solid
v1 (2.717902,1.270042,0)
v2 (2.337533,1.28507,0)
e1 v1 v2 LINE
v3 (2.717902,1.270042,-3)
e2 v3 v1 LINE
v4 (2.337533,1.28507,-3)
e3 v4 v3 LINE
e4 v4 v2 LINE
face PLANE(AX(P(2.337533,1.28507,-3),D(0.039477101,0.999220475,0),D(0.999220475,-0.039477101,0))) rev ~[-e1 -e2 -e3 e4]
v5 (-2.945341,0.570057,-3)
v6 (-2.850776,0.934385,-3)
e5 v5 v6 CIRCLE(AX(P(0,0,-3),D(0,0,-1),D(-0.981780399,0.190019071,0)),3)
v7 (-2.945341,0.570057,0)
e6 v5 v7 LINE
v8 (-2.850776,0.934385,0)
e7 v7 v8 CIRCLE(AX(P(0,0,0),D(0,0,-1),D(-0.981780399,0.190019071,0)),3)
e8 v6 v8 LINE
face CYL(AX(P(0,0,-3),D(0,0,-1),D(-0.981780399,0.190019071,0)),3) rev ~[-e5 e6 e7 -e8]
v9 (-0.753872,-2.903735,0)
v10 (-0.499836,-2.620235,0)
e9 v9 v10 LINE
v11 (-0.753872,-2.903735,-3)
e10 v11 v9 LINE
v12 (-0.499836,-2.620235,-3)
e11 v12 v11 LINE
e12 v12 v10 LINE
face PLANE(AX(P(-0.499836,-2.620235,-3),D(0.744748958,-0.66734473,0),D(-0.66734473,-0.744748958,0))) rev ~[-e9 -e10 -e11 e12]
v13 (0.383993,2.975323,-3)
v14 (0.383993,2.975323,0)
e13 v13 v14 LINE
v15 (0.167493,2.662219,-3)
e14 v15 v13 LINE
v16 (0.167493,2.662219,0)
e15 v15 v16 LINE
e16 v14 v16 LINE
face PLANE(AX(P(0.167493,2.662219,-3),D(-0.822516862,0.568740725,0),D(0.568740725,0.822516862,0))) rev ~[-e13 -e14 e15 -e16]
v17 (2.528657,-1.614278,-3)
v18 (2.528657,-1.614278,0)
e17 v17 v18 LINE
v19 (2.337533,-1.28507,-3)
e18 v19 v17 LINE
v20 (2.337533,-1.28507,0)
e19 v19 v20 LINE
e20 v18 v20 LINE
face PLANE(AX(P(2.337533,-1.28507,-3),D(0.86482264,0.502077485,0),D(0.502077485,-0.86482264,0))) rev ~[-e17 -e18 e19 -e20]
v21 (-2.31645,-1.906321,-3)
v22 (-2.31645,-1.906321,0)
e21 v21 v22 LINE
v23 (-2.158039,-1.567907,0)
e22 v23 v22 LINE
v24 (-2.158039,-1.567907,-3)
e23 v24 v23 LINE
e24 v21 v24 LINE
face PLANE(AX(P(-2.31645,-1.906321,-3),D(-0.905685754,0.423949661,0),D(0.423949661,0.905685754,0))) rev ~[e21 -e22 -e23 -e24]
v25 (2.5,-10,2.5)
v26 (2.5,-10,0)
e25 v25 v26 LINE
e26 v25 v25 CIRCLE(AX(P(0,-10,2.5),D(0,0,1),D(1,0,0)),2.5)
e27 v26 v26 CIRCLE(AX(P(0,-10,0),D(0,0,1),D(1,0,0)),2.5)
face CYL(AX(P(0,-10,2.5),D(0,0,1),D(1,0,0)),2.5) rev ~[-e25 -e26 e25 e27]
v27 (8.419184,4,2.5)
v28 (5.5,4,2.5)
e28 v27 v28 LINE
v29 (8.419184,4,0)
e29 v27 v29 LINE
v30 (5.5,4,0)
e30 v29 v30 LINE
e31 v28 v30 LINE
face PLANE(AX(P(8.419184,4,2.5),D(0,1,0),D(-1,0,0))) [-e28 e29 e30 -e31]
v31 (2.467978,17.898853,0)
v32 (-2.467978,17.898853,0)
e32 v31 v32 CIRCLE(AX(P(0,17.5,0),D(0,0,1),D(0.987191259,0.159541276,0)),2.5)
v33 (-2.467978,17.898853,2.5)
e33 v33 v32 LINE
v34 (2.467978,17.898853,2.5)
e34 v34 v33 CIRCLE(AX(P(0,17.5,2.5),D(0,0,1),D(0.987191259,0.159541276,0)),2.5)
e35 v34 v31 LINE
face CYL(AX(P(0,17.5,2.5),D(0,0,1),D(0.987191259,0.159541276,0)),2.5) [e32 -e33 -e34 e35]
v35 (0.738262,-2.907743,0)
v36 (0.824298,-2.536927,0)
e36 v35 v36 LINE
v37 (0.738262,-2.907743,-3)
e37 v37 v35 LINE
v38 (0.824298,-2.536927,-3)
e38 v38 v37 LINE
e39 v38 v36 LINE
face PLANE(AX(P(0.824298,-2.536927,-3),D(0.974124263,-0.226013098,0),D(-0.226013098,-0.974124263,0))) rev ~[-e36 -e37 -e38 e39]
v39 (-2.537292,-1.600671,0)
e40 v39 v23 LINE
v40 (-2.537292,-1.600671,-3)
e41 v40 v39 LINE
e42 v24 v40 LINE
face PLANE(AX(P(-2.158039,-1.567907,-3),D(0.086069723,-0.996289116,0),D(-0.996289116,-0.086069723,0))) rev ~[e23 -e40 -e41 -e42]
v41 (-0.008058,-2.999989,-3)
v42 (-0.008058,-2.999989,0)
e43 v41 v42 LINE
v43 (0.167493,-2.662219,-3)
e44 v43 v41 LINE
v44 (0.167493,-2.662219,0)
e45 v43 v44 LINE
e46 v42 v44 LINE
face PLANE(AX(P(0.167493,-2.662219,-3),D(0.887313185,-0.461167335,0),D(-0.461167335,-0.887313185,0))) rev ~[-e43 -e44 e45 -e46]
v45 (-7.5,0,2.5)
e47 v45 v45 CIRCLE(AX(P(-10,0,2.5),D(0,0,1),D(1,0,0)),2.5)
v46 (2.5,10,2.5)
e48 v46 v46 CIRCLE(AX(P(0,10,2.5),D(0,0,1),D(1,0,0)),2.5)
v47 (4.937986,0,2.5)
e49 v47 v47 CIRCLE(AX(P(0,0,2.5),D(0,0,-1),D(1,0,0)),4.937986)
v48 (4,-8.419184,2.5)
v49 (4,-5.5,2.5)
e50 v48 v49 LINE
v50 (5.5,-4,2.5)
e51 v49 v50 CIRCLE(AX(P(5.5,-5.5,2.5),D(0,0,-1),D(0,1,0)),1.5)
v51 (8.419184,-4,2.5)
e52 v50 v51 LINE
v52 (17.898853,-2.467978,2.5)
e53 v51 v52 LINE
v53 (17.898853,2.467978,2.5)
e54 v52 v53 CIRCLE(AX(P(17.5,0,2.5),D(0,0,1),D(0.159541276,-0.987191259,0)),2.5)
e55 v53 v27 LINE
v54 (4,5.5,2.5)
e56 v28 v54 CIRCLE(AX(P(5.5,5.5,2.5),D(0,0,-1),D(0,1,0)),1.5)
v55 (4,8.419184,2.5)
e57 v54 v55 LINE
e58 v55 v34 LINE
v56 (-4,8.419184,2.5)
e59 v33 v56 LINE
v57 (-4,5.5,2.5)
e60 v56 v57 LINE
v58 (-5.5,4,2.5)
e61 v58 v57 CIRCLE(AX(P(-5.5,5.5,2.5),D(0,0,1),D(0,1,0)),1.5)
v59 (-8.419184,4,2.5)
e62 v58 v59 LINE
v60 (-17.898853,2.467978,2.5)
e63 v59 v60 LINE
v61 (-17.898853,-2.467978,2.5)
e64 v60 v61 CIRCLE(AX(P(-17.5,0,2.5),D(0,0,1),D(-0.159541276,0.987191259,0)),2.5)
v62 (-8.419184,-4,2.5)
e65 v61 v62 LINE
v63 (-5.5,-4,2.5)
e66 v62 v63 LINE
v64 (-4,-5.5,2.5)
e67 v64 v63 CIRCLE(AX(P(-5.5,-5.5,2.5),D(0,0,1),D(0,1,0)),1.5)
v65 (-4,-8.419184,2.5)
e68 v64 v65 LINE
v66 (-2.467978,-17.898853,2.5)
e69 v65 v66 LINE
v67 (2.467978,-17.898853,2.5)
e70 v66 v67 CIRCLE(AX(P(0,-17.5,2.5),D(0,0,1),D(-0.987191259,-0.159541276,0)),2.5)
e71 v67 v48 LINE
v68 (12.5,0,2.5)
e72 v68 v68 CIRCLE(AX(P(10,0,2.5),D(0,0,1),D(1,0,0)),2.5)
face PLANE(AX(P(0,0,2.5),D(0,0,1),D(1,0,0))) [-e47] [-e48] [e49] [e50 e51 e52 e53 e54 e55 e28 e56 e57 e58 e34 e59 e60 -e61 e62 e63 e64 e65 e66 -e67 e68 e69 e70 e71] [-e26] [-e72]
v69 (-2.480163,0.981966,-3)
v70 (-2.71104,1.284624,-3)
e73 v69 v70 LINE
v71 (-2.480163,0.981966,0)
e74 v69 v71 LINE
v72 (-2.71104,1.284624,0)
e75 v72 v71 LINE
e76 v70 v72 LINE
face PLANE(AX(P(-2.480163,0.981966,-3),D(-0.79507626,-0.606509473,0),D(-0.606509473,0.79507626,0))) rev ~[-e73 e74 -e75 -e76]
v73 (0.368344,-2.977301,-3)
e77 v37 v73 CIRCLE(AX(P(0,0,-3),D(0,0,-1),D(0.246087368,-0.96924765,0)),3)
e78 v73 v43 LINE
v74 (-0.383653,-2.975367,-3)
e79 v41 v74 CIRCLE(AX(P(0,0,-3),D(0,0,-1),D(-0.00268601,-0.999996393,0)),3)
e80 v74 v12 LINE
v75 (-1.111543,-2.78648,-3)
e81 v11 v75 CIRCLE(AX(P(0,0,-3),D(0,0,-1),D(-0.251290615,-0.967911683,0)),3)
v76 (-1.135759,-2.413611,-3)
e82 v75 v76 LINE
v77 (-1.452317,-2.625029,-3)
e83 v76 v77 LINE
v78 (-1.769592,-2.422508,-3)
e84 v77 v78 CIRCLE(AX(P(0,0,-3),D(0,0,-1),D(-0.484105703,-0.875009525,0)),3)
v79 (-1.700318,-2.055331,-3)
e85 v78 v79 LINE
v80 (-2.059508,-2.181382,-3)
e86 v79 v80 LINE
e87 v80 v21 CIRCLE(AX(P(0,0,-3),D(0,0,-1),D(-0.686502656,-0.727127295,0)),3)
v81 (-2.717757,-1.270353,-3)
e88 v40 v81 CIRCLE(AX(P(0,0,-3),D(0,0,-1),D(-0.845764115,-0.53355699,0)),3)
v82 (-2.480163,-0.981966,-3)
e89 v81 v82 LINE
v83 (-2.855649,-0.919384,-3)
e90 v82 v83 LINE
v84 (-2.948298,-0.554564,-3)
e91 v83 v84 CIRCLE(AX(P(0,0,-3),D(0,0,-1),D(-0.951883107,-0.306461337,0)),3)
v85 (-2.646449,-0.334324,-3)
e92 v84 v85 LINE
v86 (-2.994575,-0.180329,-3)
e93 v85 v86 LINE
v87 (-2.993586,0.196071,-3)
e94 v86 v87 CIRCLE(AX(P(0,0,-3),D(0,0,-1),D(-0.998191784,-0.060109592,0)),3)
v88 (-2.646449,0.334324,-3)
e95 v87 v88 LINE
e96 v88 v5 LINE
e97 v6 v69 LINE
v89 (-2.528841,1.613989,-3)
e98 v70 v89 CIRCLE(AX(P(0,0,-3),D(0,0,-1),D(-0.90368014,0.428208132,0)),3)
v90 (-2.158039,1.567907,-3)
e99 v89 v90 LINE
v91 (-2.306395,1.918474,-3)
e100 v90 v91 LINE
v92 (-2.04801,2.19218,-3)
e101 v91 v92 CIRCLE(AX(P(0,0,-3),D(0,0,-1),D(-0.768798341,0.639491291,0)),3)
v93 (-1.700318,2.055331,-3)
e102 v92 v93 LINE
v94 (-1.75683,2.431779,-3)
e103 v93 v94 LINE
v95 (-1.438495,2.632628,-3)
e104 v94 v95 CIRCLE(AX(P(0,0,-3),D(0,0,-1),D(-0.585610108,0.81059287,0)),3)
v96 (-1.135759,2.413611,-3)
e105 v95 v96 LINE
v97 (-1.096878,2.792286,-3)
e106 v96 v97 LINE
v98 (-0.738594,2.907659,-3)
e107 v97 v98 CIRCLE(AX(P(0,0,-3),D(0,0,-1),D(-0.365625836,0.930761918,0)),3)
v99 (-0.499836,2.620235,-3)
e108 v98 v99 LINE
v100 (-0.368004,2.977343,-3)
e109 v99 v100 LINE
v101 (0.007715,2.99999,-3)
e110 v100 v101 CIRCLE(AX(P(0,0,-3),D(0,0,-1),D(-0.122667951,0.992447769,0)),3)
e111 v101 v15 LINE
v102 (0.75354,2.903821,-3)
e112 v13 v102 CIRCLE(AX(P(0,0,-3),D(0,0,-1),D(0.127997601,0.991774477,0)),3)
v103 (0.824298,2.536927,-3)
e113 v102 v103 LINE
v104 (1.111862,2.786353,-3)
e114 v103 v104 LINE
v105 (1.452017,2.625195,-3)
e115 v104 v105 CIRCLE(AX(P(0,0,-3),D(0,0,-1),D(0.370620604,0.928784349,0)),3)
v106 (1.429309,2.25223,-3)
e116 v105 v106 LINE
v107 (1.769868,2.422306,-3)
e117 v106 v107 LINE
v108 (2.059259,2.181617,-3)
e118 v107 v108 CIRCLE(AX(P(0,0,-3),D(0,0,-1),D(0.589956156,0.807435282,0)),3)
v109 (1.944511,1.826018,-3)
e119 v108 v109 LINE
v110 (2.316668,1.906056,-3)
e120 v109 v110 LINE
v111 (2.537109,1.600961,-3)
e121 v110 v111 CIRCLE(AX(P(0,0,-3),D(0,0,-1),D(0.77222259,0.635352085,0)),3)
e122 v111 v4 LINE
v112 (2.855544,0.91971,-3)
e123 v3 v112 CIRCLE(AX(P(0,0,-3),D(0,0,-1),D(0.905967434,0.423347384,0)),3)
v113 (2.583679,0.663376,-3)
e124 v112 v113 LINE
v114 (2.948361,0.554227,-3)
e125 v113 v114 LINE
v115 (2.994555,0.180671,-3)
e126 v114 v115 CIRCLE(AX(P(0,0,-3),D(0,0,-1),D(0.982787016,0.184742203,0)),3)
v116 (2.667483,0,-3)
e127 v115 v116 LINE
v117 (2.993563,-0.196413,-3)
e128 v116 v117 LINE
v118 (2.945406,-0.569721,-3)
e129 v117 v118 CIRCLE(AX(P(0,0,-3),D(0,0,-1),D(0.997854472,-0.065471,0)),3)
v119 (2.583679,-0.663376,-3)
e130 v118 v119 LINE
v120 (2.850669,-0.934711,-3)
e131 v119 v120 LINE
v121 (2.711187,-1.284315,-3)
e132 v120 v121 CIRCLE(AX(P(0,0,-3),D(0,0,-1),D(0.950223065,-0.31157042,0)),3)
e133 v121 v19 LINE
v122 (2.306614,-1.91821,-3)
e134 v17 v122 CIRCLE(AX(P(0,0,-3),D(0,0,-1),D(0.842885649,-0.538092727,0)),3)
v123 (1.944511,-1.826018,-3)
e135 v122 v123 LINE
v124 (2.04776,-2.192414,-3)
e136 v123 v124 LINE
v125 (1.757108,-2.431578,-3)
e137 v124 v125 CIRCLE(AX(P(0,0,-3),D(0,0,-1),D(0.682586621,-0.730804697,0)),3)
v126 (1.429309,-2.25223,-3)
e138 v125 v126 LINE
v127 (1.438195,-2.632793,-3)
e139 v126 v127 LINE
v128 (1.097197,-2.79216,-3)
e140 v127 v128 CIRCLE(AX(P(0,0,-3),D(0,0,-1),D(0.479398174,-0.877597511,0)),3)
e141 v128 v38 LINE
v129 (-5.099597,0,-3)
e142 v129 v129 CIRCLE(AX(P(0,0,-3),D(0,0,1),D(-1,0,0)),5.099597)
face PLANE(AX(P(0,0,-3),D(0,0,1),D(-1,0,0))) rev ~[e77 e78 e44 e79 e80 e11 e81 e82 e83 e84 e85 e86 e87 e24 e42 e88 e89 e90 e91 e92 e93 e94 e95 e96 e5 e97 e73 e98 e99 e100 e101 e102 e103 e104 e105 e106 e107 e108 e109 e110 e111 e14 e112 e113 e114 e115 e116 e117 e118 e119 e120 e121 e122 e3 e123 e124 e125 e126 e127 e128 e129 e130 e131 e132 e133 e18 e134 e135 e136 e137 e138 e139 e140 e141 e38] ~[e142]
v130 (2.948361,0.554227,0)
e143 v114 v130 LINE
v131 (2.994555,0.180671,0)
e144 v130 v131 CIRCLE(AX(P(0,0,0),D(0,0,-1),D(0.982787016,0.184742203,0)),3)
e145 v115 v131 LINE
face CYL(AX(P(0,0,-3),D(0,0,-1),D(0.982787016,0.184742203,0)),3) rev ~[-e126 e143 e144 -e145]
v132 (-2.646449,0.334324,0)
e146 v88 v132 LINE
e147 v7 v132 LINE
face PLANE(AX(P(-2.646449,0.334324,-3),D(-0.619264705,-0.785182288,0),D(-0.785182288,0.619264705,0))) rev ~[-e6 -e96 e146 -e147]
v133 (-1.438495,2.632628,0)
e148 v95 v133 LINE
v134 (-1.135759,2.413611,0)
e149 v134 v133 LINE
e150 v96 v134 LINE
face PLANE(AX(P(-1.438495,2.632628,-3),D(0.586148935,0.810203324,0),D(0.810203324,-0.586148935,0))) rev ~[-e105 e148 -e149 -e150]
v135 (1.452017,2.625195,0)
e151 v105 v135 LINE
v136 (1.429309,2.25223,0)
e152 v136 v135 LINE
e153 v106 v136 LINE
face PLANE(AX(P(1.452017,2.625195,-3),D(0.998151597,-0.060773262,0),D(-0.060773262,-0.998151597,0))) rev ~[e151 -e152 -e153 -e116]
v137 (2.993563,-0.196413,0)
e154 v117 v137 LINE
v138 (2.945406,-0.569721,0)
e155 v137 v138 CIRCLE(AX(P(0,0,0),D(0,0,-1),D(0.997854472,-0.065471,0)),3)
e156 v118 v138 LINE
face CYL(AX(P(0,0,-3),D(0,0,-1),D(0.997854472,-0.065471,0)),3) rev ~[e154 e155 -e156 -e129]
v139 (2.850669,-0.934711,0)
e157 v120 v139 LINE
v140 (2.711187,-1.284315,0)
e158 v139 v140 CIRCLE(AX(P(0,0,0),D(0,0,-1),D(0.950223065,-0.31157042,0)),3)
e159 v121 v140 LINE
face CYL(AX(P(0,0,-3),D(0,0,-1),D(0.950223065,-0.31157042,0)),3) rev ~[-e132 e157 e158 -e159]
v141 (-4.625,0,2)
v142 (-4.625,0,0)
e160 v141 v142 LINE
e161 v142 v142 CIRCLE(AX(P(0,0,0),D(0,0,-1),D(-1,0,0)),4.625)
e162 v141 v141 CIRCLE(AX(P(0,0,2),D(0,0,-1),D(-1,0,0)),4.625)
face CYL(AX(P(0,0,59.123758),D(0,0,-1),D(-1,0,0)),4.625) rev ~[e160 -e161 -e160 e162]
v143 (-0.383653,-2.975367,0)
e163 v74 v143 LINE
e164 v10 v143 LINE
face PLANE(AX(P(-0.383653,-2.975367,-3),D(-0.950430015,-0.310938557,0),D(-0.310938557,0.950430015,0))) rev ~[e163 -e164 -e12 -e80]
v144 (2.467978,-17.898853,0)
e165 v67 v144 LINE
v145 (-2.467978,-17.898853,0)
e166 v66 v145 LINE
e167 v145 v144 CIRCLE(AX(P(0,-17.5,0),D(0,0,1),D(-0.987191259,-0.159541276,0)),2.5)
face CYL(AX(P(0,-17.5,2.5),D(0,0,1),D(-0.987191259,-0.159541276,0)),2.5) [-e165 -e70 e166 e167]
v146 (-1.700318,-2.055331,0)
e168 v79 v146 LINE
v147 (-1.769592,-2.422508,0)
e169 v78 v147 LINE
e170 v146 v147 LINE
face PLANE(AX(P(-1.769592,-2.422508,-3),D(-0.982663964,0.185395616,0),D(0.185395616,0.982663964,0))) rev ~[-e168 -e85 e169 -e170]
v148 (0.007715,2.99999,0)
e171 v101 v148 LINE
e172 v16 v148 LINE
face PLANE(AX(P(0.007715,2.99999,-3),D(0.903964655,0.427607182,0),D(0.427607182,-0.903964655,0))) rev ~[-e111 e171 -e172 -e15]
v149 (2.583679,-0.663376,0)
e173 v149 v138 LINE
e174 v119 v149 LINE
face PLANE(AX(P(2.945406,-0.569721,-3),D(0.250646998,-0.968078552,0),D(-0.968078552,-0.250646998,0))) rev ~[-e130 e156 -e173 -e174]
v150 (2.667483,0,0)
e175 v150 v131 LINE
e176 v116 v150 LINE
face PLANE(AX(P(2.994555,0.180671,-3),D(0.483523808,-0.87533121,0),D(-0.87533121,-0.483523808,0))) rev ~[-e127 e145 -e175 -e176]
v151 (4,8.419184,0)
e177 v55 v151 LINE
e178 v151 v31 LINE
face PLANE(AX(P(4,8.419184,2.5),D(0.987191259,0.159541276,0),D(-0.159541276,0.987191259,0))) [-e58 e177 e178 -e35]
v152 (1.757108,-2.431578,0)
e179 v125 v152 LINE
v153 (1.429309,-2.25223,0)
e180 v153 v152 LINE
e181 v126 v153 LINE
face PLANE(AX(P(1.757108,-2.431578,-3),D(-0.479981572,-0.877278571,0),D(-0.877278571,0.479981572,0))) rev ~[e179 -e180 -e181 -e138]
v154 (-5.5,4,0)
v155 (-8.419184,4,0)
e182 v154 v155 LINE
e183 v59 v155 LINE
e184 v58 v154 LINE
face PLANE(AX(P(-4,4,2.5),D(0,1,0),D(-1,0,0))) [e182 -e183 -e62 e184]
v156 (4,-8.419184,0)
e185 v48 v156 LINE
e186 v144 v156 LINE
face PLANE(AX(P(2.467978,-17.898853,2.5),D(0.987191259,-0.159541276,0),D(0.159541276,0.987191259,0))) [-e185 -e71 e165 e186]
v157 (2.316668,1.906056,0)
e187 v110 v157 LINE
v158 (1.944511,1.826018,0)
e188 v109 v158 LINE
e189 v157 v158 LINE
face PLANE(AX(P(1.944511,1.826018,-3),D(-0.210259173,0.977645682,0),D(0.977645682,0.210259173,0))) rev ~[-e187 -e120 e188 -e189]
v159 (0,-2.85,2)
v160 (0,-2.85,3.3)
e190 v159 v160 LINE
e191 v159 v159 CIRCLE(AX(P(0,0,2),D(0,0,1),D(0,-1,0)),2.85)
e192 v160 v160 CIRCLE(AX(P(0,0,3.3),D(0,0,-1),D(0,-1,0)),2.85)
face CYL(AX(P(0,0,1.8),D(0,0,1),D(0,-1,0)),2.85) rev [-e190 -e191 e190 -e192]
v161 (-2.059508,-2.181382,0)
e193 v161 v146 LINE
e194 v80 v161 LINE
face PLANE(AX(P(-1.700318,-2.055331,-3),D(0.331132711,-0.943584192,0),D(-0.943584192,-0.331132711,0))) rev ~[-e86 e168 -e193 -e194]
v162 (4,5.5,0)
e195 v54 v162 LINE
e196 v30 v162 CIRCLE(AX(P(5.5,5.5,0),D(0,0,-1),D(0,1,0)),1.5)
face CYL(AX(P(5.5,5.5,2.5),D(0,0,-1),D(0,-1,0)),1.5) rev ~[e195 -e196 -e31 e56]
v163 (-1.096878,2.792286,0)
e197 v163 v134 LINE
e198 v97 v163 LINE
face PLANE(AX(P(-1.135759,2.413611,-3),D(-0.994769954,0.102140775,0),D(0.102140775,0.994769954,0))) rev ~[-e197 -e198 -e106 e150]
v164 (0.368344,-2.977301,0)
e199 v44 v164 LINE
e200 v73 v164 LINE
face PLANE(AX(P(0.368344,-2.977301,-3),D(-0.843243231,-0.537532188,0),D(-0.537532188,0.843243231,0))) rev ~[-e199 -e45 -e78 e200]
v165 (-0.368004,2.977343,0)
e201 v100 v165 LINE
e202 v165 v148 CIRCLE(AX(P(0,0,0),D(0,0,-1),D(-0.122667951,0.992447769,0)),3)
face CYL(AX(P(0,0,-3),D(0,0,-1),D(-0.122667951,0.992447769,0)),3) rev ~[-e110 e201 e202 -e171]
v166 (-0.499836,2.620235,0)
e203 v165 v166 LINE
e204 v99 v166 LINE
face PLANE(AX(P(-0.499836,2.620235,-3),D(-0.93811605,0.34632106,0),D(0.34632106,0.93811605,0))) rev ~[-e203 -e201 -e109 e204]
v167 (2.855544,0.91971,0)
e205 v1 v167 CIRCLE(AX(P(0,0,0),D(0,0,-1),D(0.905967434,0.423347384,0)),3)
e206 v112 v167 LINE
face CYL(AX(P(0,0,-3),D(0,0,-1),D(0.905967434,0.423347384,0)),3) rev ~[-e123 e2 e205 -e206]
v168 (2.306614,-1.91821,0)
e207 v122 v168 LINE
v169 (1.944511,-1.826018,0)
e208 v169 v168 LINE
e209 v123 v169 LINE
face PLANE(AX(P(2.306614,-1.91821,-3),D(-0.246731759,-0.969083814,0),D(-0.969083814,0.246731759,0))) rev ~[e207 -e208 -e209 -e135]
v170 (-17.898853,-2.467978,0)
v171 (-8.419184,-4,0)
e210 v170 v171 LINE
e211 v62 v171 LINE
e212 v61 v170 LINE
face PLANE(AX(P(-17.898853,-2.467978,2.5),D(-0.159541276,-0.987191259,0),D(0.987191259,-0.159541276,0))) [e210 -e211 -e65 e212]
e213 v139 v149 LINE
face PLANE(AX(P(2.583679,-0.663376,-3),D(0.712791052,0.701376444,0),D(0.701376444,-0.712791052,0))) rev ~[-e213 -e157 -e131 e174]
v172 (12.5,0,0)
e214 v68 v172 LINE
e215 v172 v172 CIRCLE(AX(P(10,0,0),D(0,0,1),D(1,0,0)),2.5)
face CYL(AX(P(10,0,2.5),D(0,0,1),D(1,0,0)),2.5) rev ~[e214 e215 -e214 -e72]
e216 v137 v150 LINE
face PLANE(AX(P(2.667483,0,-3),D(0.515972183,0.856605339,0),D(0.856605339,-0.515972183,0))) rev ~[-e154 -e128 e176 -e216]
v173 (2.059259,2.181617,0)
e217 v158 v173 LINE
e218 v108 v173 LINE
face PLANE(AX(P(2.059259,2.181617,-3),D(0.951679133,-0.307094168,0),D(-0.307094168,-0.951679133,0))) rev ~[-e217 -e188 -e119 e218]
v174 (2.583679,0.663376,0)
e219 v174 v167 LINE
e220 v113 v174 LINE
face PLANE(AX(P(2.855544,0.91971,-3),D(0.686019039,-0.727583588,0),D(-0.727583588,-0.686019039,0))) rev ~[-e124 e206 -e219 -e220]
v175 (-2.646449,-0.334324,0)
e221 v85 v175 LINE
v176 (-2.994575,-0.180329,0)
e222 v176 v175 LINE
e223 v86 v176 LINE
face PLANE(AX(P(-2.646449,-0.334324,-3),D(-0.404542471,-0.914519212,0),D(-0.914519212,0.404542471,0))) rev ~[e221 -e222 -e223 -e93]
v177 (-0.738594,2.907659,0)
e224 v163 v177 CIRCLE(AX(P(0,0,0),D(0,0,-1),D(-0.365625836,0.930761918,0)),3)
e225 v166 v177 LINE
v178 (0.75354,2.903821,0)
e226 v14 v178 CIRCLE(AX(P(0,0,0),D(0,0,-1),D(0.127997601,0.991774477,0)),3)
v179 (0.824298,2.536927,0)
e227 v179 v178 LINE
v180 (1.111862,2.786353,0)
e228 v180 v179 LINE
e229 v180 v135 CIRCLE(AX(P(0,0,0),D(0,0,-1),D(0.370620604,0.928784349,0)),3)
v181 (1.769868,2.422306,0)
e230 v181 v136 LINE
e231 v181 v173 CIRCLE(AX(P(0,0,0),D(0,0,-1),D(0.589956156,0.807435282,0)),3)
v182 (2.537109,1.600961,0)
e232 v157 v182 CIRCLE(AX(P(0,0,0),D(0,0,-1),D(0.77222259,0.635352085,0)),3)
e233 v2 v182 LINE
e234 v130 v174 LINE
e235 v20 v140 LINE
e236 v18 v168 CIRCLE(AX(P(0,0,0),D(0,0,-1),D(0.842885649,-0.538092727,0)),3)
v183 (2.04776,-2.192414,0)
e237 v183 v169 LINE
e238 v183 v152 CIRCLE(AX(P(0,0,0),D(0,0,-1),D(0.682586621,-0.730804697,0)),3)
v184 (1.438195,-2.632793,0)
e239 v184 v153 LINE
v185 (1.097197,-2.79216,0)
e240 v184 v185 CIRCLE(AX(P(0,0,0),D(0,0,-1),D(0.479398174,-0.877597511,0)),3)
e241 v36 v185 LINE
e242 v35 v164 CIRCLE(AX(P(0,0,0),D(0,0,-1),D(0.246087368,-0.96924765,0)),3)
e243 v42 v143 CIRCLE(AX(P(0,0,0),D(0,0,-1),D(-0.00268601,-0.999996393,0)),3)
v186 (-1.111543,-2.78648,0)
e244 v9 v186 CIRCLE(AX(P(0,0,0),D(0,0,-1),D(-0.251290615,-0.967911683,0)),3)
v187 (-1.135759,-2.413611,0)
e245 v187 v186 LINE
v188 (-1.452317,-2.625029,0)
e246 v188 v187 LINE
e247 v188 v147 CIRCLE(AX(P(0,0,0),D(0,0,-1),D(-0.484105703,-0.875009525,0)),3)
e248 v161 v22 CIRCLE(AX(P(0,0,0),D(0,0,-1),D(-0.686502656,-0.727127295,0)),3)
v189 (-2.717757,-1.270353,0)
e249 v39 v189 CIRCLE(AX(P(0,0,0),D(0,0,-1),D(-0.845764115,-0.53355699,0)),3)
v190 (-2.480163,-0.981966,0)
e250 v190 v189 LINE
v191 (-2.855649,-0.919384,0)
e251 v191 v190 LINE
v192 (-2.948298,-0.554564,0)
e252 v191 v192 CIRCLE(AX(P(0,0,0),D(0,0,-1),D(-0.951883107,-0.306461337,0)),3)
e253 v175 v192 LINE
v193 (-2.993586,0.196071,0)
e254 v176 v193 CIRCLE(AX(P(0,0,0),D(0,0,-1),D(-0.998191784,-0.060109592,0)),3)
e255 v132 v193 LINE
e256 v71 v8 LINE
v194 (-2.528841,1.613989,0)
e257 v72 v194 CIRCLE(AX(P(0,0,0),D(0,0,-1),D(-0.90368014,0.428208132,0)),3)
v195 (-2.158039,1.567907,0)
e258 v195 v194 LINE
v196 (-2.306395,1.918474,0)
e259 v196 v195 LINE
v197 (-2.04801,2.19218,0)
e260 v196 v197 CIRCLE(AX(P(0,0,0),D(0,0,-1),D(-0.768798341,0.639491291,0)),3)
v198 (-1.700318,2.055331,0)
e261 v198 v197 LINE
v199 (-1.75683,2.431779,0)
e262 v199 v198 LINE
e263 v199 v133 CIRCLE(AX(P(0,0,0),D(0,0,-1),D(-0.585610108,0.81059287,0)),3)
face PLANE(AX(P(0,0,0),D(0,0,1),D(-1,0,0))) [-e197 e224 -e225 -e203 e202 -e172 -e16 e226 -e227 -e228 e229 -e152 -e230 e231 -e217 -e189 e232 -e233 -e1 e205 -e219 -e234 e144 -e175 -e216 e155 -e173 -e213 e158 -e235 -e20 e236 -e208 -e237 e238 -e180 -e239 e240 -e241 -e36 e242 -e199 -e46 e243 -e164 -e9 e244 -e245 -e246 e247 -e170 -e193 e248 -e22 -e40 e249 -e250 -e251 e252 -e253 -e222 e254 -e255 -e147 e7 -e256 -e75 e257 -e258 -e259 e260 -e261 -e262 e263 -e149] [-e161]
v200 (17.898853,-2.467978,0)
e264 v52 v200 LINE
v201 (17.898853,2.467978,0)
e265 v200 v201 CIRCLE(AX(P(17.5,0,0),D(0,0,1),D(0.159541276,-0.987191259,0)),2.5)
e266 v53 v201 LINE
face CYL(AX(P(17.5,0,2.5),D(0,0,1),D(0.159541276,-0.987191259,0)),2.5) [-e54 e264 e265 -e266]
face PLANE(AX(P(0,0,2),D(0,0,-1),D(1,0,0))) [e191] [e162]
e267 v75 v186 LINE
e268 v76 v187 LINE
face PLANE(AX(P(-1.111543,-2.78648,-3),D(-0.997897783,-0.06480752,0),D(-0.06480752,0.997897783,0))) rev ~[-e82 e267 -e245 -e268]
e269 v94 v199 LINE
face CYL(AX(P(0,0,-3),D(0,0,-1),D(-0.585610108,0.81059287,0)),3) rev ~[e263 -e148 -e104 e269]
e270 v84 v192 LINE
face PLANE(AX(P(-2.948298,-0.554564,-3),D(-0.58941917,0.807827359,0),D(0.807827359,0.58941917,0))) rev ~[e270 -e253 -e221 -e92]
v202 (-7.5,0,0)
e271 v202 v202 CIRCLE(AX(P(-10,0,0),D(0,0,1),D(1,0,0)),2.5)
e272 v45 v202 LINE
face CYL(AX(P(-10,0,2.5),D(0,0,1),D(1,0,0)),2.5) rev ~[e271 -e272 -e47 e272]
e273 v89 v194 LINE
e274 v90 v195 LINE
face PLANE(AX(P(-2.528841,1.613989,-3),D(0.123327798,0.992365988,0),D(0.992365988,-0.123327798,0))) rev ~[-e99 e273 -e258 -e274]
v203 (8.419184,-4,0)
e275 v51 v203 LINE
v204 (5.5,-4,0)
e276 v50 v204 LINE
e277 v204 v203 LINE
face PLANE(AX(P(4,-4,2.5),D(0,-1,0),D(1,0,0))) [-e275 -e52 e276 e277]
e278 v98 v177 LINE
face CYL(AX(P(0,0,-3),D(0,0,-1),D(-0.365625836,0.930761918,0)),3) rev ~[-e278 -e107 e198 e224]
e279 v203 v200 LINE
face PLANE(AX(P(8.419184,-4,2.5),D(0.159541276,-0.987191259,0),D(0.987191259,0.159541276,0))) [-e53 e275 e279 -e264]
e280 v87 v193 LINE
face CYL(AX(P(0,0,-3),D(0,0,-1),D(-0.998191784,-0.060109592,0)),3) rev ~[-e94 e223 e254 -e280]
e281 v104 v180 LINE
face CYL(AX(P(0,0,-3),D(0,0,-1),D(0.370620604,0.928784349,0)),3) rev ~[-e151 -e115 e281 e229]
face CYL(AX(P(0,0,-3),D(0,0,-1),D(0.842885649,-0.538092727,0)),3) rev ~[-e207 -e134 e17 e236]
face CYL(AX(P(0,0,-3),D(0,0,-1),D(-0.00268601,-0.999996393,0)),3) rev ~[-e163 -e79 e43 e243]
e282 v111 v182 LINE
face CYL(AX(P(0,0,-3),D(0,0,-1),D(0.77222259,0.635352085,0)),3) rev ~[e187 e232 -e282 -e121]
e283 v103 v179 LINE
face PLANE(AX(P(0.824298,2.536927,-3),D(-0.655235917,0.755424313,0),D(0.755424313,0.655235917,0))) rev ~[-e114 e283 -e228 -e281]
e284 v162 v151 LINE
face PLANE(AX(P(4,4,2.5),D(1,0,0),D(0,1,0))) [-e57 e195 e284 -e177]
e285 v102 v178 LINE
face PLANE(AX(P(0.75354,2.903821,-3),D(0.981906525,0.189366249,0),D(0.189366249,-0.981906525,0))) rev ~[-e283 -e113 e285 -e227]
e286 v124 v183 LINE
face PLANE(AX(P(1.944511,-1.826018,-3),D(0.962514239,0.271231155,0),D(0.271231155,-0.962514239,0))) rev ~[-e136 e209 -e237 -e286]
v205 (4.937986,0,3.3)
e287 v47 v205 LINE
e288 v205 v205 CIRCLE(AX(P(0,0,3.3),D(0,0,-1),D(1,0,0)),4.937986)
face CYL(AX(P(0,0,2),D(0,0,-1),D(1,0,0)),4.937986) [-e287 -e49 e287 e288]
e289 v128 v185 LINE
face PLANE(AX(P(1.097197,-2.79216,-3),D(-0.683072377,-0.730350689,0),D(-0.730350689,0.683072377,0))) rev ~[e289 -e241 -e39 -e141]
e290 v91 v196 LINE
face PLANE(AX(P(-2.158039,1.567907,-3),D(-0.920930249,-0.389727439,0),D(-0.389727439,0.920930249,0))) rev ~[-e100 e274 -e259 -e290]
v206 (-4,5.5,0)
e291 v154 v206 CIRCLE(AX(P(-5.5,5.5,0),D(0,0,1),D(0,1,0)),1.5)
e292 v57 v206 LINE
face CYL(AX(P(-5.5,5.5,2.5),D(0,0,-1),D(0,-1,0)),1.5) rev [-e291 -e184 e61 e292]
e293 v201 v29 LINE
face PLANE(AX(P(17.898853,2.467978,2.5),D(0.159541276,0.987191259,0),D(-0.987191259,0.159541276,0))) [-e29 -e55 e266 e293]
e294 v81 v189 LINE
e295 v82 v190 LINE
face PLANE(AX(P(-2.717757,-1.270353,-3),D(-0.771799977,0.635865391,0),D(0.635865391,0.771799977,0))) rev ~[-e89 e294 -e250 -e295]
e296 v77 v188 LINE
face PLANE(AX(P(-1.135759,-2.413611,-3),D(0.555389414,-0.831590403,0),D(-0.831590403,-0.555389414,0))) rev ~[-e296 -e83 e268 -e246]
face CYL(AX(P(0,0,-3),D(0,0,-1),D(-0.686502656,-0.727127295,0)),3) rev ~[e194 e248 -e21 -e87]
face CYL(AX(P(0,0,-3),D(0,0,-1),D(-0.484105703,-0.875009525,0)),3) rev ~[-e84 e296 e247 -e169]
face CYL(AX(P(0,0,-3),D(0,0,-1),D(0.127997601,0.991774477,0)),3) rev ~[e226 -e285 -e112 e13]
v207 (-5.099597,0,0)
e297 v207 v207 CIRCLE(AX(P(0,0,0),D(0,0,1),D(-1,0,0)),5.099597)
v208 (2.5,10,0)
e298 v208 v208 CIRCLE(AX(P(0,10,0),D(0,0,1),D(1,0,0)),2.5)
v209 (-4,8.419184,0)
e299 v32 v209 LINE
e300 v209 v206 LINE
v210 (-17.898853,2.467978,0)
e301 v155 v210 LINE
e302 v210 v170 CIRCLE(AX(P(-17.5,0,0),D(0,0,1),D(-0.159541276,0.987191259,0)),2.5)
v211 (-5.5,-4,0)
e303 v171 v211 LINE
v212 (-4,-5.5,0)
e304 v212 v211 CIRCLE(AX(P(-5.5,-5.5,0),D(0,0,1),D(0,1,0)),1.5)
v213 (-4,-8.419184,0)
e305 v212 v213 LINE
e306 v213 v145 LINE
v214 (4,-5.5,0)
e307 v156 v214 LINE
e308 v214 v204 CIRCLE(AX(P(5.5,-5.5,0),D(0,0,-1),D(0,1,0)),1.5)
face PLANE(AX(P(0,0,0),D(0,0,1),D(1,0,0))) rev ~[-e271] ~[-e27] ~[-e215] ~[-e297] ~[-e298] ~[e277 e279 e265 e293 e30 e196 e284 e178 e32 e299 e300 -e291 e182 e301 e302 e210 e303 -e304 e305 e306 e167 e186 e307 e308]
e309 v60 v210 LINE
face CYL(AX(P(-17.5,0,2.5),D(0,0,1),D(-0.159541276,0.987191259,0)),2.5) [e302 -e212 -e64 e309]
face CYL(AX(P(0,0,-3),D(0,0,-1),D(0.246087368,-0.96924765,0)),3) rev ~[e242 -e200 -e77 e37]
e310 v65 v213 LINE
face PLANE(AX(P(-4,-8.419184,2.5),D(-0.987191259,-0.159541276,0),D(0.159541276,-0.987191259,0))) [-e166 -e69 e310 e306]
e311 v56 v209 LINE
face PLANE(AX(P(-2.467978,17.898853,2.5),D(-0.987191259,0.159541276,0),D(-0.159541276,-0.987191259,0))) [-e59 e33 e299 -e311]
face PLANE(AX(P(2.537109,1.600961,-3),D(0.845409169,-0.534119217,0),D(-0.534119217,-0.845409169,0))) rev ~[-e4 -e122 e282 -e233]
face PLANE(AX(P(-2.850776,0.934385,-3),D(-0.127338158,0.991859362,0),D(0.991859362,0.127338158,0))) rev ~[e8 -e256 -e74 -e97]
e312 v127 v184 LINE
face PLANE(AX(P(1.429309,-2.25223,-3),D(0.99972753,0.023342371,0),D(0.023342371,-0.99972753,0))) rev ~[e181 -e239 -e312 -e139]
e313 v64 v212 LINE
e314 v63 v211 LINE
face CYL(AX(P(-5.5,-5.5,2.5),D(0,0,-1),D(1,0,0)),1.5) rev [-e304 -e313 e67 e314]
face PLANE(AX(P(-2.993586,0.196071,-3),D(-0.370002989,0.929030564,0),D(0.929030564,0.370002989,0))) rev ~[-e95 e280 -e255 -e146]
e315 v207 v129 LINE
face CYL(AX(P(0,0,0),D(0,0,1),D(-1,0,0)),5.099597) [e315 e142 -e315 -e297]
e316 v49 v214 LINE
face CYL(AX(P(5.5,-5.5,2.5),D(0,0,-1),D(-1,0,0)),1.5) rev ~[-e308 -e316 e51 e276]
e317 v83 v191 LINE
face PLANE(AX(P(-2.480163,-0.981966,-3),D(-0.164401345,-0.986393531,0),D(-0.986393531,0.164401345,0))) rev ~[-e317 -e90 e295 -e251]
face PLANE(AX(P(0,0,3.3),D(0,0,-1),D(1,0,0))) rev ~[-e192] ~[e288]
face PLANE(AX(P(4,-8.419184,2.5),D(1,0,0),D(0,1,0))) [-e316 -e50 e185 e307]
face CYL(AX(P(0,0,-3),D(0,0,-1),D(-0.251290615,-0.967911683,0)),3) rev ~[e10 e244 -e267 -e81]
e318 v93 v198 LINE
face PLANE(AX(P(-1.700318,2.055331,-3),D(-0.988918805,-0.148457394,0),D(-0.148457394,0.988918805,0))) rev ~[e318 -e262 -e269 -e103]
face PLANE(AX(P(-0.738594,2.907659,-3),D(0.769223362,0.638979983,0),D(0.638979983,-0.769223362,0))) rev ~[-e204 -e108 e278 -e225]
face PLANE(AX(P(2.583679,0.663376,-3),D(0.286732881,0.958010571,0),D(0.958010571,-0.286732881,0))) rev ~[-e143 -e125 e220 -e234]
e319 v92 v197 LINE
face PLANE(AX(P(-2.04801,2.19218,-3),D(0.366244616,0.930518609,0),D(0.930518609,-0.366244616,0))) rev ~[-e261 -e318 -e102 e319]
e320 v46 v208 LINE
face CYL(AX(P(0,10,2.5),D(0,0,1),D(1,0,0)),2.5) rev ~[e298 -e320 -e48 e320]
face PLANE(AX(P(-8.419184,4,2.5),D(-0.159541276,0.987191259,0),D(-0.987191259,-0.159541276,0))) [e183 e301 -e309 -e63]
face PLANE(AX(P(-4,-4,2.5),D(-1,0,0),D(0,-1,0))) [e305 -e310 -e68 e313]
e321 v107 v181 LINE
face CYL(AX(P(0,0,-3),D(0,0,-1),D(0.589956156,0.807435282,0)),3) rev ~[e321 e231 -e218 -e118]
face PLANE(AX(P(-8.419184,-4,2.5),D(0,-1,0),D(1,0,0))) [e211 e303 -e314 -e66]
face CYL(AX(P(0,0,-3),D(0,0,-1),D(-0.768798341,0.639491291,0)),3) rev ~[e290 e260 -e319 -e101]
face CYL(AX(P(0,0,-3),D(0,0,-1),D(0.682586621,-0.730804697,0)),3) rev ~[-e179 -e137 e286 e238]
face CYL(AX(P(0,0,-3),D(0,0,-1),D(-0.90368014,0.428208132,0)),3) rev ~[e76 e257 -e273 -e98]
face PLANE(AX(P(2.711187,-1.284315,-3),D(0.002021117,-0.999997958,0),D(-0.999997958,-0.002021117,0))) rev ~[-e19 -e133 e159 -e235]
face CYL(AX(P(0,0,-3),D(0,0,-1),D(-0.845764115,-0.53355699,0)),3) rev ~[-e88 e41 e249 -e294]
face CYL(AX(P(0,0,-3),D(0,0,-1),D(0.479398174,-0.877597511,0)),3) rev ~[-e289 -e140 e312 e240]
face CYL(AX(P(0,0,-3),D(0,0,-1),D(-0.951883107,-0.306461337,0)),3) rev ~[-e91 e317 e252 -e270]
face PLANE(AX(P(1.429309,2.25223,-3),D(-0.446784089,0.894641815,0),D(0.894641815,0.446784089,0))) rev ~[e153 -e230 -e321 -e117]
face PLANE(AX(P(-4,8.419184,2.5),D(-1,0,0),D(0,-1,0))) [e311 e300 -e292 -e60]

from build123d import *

# Parameters (mm, degrees)
BOSS_EXTRUDE1_DEPTH  = 2.5
M8_CLEARANCE_HOLE1_D = 9.25
SKETCH4_R            = 4.937986177
BOSS_EXTRUDE2_DEPTH  = 1.3
SKETCH5_R            = 5.099596851
BOSS_EXTRUDE3_DEPTH  = 3
CUT_EXTRUDE1_DEPTH   = 3.6
FILLET1_R            = 1.5
SKETCH11_R           = 2.5
CUT_EXTRUDE2_DEPTH   = 10


with BuildPart() as part:
    # Sketch1 → Boss-Extrude1 (new body)
    with BuildSketch(Plane.XY.offset(2.5)):
        with BuildLine():
            Line((4, -8.419183588), (4, -4))
            Line((4, -4), (8.419183588, -4))
            Line((8.419183588, -4), (17.898853189, -2.467978147))
            ThreePointArc((17.898853189, -2.467978147), (20, 0), (17.898853189, 2.467978147))
            Line((17.898853189, 2.467978147), (8.419183588, 4))
            Line((8.419183588, 4), (4, 4))
            Line((4, 4), (4, 8.419183588))
            Line((4, 8.419183588), (2.467978147, 17.898853189))
            ThreePointArc((2.467978147, 17.898853189), (0, 20), (-2.467978147, 17.898853189))
            Line((-2.467978147, 17.898853189), (-4, 8.419183588))
            Line((-4, 8.419183588), (-4, 4))
            Line((-4, 4), (-8.419183588, 4))
            Line((-8.419183588, 4), (-17.898853189, 2.467978147))
            ThreePointArc((-17.898853189, 2.467978147), (-20, 0), (-17.898853189, -2.467978147))
            Line((-17.898853189, -2.467978147), (-8.419183588, -4))
            Line((-8.419183588, -4), (-4, -4))
            Line((-4, -4), (-4, -8.419183588))
            Line((-4, -8.419183588), (-2.467978147, -17.898853189))
            ThreePointArc((-2.467978147, -17.898853189), (0, -20), (2.467978147, -17.898853189))
            Line((2.467978147, -17.898853189), (4, -8.419183588))
        make_face()
    extrude(amount=-BOSS_EXTRUDE1_DEPTH)

    # M8 Clearance Hole1 (through all)
    with Locations(Plane.XY.offset(2.5)):
        with Locations((0, 0)):
            Hole(M8_CLEARANCE_HOLE1_D / 2)

    # Sketch4 → Boss-Extrude2 (add)
    with BuildSketch(Plane(origin=(0, 0, 2), x_dir=(-1, 0, 0), z_dir=(0, 0, -1))):
        with Locations(Location((0, 0, 0), (0, 0, 180))):
            Circle(SKETCH4_R)
    extrude(amount=-BOSS_EXTRUDE2_DEPTH)

    # Sketch5 → Boss-Extrude3 (add)
    with BuildSketch(Plane.XY):
        with Locations(Location((0, 0, 0), (0, 0, 180))):
            Circle(SKETCH5_R)
    extrude(amount=-BOSS_EXTRUDE3_DEPTH)

    # Sketch6 → Cut-Extrude1 (cut)
    with BuildSketch(Plane(origin=(0, 0, -3), x_dir=(-1, 0, 0), z_dir=(0, 0, -1))):
        with BuildLine():
            Line((-2.994554723, 0.180671), (-2.667483, 0))
            Line((-2.667483, 0), (-2.993563417, -0.196413))
            ThreePointArc((-2.993563417, -0.196413), (-2.975345367, -0.383822804), (-2.94540633, -0.569720588))
            Line((-2.94540633, -0.569720588), (-2.583679116, -0.663376046))
            Line((-2.583679116, -0.663376046), (-2.850669191, -0.934711273))
            ThreePointArc((-2.850669191, -0.934711273), (-2.786416572, -1.111702609), (-2.711187226, -1.284314536))
            Line((-2.711187226, -1.284314536), (-2.337533172, -1.285069736))
            Line((-2.337533172, -1.285069736), (-2.528656935, -1.614278199))
            ThreePointArc((-2.528656935, -1.614278199), (-2.422406975, -1.76973005), (-2.306614256, -1.918210278))
            Line((-2.306614256, -1.918210278), (-1.944511421, -1.826017768))
            Line((-1.944511421, -1.826017768), (-2.047759865, -2.192414089))
            ThreePointArc((-2.047759865, -2.192414089), (-1.906188639, -2.316558843), (-1.75710823, -2.431577814))
            Line((-1.75710823, -2.431577814), (-1.429308867, -2.252230388))
            Line((-1.429308867, -2.252230388), (-1.438194511, -2.632792538))
            ThreePointArc((-1.438194511, -2.632792538), (-1.27019746, -2.717829725), (-1.097196632, -2.792160373))
            Line((-1.097196632, -2.792160373), (-0.824297579, -2.536927089))
            Line((-0.824297579, -2.536927089), (-0.738262106, -2.90774295))
            ThreePointArc((-0.738262106, -2.90774295), (-0.554395104, -2.948329369), (-0.368344134, -2.977301227))
            Line((-0.368344134, -2.977301227), (-0.167492643, -2.662219332))
            Line((-0.167492643, -2.662219332), (0.008058022, -2.999989178))
            ThreePointArc((0.008058022, -2.999989178), (0.196241936, -2.993574636), (0.383652781, -2.975367296))
            Line((0.383652781, -2.975367296), (0.499836471, -2.620234542))
            Line((0.499836471, -2.620234542), (0.753871834, -2.903735053))
            ThreePointArc((0.753871834, -2.903735053), (0.934548373, -2.850722599), (1.11154338, -2.786480094))
            Line((1.11154338, -2.786480094), (1.135759022, -2.41361078))
            Line((1.135759022, -2.41361078), (1.452317107, -2.625028575))
            ThreePointArc((1.452317107, -2.625028575), (1.614133699, -2.528749177), (1.769591621, -2.4225081))
            Line((1.769591621, -2.4225081), (1.700317656, -2.055330976))
            Line((1.700317656, -2.055330976), (2.059507955, -2.181381898))
            ThreePointArc((2.059507955, -2.181381898), (2.192297068, -2.047885144), (2.316449912, -1.906321013))
            Line((2.316449912, -1.906321013), (2.158039079, -1.567907168))
            Line((2.158039079, -1.567907168), (2.537292343, -1.600670974))
            ThreePointArc((2.537292343, -1.600670974), (2.63271035, -1.438344956), (2.717757136, -1.270352765))
            Line((2.717757136, -1.270352765), (2.48016297, -0.981965986))
            Line((2.48016297, -0.981965986), (2.855649322, -0.919384005))
            ThreePointArc((2.855649322, -0.919384005), (2.907700758, -0.738428265), (2.948297684, -0.554563582))
            Line((2.948297684, -0.554563582), (2.6464491, -0.33432427))
            Line((2.6464491, -0.33432427), (2.994575352, -0.180328758))
            ThreePointArc((2.994575352, -0.180328758), (2.999989634, 0.007886591), (2.993585845, 0.196070871))
            Line((2.993585845, 0.196070871), (2.6464491, 0.33432427))
            Line((2.6464491, 0.33432427), (2.945341199, 0.570057208))
            ThreePointArc((2.945341199, 0.570057208), (2.903778127, 0.753705902), (2.850775998, 0.93438547))
            Line((2.850775998, 0.93438547), (2.48016297, 0.981965986))
            Line((2.48016297, 0.981965986), (2.711040427, 1.284624383))
            ThreePointArc((2.711040427, 1.284624383), (2.625111562, 1.4521671), (2.528841411, 1.613989194))
            Line((2.528841411, 1.613989194), (2.158039079, 1.567907168))
            Line((2.158039079, 1.567907168), (2.306395014, 1.918473883))
            ThreePointArc((2.306395014, 1.918473883), (2.181499583, 2.059383299), (2.048010417, 2.192180041))
            Line((2.048010417, 2.192180041), (1.700317656, 2.055330976))
            Line((1.700317656, 2.055330976), (1.756830319, 2.431778614))
            ThreePointArc((1.756830319, 2.431778614), (1.600815962, 2.53720087), (1.438495397, 2.632628153))
            Line((1.438495397, 2.632628153), (1.135759022, 2.41361078))
            Line((1.135759022, 2.41361078), (1.096877515, 2.792285751))
            ThreePointArc((1.096877515, 2.792285751), (0.919547186, 2.85559678), (0.73859442, 2.907658557))
            Line((0.73859442, 2.907658557), (0.499836471, 2.620234542))
            Line((0.499836471, 2.620234542), (0.368003863, 2.977343305))
            ThreePointArc((0.368003863, 2.977343305), (0.180499879, 2.994565042), (-0.00771516, 2.999990079))
            Line((-0.00771516, 2.999990079), (-0.167492643, 2.662219332))
            Line((-0.167492643, 2.662219332), (-0.383992826, 2.975323429))
            ThreePointArc((-0.383992826, 2.975323429), (-0.569888899, 2.94537377), (-0.753539968, 2.903821192))
            Line((-0.753539968, 2.903821192), (-0.824297579, 2.536927089))
            Line((-0.824297579, 2.536927089), (-1.111861833, 2.78635304))
            ThreePointArc((-1.111861833, 2.78635304), (-1.284469462, 2.711113831), (-1.452017089, 2.62519454))
            Line((-1.452017089, 2.62519454), (-1.429308867, 2.252230388))
            Line((-1.429308867, 2.252230388), (-1.769868472, 2.422305842))
            ThreePointArc((-1.769868472, 2.422305842), (-1.918342084, 2.306504639), (-2.059258636, 2.18161726))
            Line((-2.059258636, 2.18161726), (-1.944511421, 1.826017768))
            Line((-1.944511421, 1.826017768), (-2.316667766, 1.906056259))
            ThreePointArc((-2.316667766, 1.906056259), (-2.431678218, 1.756969278), (-2.53710939, 1.600960944))
            Line((-2.53710939, 1.600960944), (-2.337533172, 1.285069736))
            Line((-2.337533172, 1.285069736), (-2.717902304, 1.270042151))
            ThreePointArc((-2.717902304, 1.270042151), (-2.792223067, 1.097037075), (-2.855544229, 0.919710365))
            Line((-2.855544229, 0.919710365), (-2.583679116, 0.663376046))
            Line((-2.583679116, 0.663376046), (-2.948361045, 0.554226624))
            ThreePointArc((-2.948361045, 0.554226624), (-2.977322271, 0.368173999), (-2.994554723, 0.180671))
        make_face()
    extrude(amount=-CUT_EXTRUDE1_DEPTH, mode=Mode.SUBTRACT)

    # Sketch9 → CBORE for M2.5 Hex Head Machine Screw1 (revolve, cut)
    with BuildSketch(Plane(origin=(0, 0, 3.3), x_dir=(0, -1, 0), z_dir=(1, 0, 0))):
        Polygon((0, 0), (0, 1.3), (1.5, 1.3), (1.5, 1.5), (2.85, 1.5), (2.85, 0), align=None)
    revolve(axis=Axis((0, 0, 9.65), (0, 0, -1)), mode=Mode.SUBTRACT)

    # Fillet1
    fillet1_edges = [part.edges().sort_by_distance(p)[0] for p in [
        (-4, -4, 1.25),
        (-4, 4, 1.25),
        (4, 4, 1.25),
        (4, -4, 1.25),
    ]]
    fillet(fillet1_edges, radius=FILLET1_R)

    # Sketch11 → Cut-Extrude2 (cut)
    with BuildSketch(Plane.XY.offset(2.5)):
        with Locations((-10, 0)):
            Circle(SKETCH11_R)
        with Locations((10, 0)):
            Circle(SKETCH11_R)
        with Locations((0, -10)):
            Circle(SKETCH11_R)
        with Locations((0, 10)):
            Circle(SKETCH11_R)
    extrude(amount=-CUT_EXTRUDE2_DEPTH, mode=Mode.SUBTRACT)


solid = part.part
